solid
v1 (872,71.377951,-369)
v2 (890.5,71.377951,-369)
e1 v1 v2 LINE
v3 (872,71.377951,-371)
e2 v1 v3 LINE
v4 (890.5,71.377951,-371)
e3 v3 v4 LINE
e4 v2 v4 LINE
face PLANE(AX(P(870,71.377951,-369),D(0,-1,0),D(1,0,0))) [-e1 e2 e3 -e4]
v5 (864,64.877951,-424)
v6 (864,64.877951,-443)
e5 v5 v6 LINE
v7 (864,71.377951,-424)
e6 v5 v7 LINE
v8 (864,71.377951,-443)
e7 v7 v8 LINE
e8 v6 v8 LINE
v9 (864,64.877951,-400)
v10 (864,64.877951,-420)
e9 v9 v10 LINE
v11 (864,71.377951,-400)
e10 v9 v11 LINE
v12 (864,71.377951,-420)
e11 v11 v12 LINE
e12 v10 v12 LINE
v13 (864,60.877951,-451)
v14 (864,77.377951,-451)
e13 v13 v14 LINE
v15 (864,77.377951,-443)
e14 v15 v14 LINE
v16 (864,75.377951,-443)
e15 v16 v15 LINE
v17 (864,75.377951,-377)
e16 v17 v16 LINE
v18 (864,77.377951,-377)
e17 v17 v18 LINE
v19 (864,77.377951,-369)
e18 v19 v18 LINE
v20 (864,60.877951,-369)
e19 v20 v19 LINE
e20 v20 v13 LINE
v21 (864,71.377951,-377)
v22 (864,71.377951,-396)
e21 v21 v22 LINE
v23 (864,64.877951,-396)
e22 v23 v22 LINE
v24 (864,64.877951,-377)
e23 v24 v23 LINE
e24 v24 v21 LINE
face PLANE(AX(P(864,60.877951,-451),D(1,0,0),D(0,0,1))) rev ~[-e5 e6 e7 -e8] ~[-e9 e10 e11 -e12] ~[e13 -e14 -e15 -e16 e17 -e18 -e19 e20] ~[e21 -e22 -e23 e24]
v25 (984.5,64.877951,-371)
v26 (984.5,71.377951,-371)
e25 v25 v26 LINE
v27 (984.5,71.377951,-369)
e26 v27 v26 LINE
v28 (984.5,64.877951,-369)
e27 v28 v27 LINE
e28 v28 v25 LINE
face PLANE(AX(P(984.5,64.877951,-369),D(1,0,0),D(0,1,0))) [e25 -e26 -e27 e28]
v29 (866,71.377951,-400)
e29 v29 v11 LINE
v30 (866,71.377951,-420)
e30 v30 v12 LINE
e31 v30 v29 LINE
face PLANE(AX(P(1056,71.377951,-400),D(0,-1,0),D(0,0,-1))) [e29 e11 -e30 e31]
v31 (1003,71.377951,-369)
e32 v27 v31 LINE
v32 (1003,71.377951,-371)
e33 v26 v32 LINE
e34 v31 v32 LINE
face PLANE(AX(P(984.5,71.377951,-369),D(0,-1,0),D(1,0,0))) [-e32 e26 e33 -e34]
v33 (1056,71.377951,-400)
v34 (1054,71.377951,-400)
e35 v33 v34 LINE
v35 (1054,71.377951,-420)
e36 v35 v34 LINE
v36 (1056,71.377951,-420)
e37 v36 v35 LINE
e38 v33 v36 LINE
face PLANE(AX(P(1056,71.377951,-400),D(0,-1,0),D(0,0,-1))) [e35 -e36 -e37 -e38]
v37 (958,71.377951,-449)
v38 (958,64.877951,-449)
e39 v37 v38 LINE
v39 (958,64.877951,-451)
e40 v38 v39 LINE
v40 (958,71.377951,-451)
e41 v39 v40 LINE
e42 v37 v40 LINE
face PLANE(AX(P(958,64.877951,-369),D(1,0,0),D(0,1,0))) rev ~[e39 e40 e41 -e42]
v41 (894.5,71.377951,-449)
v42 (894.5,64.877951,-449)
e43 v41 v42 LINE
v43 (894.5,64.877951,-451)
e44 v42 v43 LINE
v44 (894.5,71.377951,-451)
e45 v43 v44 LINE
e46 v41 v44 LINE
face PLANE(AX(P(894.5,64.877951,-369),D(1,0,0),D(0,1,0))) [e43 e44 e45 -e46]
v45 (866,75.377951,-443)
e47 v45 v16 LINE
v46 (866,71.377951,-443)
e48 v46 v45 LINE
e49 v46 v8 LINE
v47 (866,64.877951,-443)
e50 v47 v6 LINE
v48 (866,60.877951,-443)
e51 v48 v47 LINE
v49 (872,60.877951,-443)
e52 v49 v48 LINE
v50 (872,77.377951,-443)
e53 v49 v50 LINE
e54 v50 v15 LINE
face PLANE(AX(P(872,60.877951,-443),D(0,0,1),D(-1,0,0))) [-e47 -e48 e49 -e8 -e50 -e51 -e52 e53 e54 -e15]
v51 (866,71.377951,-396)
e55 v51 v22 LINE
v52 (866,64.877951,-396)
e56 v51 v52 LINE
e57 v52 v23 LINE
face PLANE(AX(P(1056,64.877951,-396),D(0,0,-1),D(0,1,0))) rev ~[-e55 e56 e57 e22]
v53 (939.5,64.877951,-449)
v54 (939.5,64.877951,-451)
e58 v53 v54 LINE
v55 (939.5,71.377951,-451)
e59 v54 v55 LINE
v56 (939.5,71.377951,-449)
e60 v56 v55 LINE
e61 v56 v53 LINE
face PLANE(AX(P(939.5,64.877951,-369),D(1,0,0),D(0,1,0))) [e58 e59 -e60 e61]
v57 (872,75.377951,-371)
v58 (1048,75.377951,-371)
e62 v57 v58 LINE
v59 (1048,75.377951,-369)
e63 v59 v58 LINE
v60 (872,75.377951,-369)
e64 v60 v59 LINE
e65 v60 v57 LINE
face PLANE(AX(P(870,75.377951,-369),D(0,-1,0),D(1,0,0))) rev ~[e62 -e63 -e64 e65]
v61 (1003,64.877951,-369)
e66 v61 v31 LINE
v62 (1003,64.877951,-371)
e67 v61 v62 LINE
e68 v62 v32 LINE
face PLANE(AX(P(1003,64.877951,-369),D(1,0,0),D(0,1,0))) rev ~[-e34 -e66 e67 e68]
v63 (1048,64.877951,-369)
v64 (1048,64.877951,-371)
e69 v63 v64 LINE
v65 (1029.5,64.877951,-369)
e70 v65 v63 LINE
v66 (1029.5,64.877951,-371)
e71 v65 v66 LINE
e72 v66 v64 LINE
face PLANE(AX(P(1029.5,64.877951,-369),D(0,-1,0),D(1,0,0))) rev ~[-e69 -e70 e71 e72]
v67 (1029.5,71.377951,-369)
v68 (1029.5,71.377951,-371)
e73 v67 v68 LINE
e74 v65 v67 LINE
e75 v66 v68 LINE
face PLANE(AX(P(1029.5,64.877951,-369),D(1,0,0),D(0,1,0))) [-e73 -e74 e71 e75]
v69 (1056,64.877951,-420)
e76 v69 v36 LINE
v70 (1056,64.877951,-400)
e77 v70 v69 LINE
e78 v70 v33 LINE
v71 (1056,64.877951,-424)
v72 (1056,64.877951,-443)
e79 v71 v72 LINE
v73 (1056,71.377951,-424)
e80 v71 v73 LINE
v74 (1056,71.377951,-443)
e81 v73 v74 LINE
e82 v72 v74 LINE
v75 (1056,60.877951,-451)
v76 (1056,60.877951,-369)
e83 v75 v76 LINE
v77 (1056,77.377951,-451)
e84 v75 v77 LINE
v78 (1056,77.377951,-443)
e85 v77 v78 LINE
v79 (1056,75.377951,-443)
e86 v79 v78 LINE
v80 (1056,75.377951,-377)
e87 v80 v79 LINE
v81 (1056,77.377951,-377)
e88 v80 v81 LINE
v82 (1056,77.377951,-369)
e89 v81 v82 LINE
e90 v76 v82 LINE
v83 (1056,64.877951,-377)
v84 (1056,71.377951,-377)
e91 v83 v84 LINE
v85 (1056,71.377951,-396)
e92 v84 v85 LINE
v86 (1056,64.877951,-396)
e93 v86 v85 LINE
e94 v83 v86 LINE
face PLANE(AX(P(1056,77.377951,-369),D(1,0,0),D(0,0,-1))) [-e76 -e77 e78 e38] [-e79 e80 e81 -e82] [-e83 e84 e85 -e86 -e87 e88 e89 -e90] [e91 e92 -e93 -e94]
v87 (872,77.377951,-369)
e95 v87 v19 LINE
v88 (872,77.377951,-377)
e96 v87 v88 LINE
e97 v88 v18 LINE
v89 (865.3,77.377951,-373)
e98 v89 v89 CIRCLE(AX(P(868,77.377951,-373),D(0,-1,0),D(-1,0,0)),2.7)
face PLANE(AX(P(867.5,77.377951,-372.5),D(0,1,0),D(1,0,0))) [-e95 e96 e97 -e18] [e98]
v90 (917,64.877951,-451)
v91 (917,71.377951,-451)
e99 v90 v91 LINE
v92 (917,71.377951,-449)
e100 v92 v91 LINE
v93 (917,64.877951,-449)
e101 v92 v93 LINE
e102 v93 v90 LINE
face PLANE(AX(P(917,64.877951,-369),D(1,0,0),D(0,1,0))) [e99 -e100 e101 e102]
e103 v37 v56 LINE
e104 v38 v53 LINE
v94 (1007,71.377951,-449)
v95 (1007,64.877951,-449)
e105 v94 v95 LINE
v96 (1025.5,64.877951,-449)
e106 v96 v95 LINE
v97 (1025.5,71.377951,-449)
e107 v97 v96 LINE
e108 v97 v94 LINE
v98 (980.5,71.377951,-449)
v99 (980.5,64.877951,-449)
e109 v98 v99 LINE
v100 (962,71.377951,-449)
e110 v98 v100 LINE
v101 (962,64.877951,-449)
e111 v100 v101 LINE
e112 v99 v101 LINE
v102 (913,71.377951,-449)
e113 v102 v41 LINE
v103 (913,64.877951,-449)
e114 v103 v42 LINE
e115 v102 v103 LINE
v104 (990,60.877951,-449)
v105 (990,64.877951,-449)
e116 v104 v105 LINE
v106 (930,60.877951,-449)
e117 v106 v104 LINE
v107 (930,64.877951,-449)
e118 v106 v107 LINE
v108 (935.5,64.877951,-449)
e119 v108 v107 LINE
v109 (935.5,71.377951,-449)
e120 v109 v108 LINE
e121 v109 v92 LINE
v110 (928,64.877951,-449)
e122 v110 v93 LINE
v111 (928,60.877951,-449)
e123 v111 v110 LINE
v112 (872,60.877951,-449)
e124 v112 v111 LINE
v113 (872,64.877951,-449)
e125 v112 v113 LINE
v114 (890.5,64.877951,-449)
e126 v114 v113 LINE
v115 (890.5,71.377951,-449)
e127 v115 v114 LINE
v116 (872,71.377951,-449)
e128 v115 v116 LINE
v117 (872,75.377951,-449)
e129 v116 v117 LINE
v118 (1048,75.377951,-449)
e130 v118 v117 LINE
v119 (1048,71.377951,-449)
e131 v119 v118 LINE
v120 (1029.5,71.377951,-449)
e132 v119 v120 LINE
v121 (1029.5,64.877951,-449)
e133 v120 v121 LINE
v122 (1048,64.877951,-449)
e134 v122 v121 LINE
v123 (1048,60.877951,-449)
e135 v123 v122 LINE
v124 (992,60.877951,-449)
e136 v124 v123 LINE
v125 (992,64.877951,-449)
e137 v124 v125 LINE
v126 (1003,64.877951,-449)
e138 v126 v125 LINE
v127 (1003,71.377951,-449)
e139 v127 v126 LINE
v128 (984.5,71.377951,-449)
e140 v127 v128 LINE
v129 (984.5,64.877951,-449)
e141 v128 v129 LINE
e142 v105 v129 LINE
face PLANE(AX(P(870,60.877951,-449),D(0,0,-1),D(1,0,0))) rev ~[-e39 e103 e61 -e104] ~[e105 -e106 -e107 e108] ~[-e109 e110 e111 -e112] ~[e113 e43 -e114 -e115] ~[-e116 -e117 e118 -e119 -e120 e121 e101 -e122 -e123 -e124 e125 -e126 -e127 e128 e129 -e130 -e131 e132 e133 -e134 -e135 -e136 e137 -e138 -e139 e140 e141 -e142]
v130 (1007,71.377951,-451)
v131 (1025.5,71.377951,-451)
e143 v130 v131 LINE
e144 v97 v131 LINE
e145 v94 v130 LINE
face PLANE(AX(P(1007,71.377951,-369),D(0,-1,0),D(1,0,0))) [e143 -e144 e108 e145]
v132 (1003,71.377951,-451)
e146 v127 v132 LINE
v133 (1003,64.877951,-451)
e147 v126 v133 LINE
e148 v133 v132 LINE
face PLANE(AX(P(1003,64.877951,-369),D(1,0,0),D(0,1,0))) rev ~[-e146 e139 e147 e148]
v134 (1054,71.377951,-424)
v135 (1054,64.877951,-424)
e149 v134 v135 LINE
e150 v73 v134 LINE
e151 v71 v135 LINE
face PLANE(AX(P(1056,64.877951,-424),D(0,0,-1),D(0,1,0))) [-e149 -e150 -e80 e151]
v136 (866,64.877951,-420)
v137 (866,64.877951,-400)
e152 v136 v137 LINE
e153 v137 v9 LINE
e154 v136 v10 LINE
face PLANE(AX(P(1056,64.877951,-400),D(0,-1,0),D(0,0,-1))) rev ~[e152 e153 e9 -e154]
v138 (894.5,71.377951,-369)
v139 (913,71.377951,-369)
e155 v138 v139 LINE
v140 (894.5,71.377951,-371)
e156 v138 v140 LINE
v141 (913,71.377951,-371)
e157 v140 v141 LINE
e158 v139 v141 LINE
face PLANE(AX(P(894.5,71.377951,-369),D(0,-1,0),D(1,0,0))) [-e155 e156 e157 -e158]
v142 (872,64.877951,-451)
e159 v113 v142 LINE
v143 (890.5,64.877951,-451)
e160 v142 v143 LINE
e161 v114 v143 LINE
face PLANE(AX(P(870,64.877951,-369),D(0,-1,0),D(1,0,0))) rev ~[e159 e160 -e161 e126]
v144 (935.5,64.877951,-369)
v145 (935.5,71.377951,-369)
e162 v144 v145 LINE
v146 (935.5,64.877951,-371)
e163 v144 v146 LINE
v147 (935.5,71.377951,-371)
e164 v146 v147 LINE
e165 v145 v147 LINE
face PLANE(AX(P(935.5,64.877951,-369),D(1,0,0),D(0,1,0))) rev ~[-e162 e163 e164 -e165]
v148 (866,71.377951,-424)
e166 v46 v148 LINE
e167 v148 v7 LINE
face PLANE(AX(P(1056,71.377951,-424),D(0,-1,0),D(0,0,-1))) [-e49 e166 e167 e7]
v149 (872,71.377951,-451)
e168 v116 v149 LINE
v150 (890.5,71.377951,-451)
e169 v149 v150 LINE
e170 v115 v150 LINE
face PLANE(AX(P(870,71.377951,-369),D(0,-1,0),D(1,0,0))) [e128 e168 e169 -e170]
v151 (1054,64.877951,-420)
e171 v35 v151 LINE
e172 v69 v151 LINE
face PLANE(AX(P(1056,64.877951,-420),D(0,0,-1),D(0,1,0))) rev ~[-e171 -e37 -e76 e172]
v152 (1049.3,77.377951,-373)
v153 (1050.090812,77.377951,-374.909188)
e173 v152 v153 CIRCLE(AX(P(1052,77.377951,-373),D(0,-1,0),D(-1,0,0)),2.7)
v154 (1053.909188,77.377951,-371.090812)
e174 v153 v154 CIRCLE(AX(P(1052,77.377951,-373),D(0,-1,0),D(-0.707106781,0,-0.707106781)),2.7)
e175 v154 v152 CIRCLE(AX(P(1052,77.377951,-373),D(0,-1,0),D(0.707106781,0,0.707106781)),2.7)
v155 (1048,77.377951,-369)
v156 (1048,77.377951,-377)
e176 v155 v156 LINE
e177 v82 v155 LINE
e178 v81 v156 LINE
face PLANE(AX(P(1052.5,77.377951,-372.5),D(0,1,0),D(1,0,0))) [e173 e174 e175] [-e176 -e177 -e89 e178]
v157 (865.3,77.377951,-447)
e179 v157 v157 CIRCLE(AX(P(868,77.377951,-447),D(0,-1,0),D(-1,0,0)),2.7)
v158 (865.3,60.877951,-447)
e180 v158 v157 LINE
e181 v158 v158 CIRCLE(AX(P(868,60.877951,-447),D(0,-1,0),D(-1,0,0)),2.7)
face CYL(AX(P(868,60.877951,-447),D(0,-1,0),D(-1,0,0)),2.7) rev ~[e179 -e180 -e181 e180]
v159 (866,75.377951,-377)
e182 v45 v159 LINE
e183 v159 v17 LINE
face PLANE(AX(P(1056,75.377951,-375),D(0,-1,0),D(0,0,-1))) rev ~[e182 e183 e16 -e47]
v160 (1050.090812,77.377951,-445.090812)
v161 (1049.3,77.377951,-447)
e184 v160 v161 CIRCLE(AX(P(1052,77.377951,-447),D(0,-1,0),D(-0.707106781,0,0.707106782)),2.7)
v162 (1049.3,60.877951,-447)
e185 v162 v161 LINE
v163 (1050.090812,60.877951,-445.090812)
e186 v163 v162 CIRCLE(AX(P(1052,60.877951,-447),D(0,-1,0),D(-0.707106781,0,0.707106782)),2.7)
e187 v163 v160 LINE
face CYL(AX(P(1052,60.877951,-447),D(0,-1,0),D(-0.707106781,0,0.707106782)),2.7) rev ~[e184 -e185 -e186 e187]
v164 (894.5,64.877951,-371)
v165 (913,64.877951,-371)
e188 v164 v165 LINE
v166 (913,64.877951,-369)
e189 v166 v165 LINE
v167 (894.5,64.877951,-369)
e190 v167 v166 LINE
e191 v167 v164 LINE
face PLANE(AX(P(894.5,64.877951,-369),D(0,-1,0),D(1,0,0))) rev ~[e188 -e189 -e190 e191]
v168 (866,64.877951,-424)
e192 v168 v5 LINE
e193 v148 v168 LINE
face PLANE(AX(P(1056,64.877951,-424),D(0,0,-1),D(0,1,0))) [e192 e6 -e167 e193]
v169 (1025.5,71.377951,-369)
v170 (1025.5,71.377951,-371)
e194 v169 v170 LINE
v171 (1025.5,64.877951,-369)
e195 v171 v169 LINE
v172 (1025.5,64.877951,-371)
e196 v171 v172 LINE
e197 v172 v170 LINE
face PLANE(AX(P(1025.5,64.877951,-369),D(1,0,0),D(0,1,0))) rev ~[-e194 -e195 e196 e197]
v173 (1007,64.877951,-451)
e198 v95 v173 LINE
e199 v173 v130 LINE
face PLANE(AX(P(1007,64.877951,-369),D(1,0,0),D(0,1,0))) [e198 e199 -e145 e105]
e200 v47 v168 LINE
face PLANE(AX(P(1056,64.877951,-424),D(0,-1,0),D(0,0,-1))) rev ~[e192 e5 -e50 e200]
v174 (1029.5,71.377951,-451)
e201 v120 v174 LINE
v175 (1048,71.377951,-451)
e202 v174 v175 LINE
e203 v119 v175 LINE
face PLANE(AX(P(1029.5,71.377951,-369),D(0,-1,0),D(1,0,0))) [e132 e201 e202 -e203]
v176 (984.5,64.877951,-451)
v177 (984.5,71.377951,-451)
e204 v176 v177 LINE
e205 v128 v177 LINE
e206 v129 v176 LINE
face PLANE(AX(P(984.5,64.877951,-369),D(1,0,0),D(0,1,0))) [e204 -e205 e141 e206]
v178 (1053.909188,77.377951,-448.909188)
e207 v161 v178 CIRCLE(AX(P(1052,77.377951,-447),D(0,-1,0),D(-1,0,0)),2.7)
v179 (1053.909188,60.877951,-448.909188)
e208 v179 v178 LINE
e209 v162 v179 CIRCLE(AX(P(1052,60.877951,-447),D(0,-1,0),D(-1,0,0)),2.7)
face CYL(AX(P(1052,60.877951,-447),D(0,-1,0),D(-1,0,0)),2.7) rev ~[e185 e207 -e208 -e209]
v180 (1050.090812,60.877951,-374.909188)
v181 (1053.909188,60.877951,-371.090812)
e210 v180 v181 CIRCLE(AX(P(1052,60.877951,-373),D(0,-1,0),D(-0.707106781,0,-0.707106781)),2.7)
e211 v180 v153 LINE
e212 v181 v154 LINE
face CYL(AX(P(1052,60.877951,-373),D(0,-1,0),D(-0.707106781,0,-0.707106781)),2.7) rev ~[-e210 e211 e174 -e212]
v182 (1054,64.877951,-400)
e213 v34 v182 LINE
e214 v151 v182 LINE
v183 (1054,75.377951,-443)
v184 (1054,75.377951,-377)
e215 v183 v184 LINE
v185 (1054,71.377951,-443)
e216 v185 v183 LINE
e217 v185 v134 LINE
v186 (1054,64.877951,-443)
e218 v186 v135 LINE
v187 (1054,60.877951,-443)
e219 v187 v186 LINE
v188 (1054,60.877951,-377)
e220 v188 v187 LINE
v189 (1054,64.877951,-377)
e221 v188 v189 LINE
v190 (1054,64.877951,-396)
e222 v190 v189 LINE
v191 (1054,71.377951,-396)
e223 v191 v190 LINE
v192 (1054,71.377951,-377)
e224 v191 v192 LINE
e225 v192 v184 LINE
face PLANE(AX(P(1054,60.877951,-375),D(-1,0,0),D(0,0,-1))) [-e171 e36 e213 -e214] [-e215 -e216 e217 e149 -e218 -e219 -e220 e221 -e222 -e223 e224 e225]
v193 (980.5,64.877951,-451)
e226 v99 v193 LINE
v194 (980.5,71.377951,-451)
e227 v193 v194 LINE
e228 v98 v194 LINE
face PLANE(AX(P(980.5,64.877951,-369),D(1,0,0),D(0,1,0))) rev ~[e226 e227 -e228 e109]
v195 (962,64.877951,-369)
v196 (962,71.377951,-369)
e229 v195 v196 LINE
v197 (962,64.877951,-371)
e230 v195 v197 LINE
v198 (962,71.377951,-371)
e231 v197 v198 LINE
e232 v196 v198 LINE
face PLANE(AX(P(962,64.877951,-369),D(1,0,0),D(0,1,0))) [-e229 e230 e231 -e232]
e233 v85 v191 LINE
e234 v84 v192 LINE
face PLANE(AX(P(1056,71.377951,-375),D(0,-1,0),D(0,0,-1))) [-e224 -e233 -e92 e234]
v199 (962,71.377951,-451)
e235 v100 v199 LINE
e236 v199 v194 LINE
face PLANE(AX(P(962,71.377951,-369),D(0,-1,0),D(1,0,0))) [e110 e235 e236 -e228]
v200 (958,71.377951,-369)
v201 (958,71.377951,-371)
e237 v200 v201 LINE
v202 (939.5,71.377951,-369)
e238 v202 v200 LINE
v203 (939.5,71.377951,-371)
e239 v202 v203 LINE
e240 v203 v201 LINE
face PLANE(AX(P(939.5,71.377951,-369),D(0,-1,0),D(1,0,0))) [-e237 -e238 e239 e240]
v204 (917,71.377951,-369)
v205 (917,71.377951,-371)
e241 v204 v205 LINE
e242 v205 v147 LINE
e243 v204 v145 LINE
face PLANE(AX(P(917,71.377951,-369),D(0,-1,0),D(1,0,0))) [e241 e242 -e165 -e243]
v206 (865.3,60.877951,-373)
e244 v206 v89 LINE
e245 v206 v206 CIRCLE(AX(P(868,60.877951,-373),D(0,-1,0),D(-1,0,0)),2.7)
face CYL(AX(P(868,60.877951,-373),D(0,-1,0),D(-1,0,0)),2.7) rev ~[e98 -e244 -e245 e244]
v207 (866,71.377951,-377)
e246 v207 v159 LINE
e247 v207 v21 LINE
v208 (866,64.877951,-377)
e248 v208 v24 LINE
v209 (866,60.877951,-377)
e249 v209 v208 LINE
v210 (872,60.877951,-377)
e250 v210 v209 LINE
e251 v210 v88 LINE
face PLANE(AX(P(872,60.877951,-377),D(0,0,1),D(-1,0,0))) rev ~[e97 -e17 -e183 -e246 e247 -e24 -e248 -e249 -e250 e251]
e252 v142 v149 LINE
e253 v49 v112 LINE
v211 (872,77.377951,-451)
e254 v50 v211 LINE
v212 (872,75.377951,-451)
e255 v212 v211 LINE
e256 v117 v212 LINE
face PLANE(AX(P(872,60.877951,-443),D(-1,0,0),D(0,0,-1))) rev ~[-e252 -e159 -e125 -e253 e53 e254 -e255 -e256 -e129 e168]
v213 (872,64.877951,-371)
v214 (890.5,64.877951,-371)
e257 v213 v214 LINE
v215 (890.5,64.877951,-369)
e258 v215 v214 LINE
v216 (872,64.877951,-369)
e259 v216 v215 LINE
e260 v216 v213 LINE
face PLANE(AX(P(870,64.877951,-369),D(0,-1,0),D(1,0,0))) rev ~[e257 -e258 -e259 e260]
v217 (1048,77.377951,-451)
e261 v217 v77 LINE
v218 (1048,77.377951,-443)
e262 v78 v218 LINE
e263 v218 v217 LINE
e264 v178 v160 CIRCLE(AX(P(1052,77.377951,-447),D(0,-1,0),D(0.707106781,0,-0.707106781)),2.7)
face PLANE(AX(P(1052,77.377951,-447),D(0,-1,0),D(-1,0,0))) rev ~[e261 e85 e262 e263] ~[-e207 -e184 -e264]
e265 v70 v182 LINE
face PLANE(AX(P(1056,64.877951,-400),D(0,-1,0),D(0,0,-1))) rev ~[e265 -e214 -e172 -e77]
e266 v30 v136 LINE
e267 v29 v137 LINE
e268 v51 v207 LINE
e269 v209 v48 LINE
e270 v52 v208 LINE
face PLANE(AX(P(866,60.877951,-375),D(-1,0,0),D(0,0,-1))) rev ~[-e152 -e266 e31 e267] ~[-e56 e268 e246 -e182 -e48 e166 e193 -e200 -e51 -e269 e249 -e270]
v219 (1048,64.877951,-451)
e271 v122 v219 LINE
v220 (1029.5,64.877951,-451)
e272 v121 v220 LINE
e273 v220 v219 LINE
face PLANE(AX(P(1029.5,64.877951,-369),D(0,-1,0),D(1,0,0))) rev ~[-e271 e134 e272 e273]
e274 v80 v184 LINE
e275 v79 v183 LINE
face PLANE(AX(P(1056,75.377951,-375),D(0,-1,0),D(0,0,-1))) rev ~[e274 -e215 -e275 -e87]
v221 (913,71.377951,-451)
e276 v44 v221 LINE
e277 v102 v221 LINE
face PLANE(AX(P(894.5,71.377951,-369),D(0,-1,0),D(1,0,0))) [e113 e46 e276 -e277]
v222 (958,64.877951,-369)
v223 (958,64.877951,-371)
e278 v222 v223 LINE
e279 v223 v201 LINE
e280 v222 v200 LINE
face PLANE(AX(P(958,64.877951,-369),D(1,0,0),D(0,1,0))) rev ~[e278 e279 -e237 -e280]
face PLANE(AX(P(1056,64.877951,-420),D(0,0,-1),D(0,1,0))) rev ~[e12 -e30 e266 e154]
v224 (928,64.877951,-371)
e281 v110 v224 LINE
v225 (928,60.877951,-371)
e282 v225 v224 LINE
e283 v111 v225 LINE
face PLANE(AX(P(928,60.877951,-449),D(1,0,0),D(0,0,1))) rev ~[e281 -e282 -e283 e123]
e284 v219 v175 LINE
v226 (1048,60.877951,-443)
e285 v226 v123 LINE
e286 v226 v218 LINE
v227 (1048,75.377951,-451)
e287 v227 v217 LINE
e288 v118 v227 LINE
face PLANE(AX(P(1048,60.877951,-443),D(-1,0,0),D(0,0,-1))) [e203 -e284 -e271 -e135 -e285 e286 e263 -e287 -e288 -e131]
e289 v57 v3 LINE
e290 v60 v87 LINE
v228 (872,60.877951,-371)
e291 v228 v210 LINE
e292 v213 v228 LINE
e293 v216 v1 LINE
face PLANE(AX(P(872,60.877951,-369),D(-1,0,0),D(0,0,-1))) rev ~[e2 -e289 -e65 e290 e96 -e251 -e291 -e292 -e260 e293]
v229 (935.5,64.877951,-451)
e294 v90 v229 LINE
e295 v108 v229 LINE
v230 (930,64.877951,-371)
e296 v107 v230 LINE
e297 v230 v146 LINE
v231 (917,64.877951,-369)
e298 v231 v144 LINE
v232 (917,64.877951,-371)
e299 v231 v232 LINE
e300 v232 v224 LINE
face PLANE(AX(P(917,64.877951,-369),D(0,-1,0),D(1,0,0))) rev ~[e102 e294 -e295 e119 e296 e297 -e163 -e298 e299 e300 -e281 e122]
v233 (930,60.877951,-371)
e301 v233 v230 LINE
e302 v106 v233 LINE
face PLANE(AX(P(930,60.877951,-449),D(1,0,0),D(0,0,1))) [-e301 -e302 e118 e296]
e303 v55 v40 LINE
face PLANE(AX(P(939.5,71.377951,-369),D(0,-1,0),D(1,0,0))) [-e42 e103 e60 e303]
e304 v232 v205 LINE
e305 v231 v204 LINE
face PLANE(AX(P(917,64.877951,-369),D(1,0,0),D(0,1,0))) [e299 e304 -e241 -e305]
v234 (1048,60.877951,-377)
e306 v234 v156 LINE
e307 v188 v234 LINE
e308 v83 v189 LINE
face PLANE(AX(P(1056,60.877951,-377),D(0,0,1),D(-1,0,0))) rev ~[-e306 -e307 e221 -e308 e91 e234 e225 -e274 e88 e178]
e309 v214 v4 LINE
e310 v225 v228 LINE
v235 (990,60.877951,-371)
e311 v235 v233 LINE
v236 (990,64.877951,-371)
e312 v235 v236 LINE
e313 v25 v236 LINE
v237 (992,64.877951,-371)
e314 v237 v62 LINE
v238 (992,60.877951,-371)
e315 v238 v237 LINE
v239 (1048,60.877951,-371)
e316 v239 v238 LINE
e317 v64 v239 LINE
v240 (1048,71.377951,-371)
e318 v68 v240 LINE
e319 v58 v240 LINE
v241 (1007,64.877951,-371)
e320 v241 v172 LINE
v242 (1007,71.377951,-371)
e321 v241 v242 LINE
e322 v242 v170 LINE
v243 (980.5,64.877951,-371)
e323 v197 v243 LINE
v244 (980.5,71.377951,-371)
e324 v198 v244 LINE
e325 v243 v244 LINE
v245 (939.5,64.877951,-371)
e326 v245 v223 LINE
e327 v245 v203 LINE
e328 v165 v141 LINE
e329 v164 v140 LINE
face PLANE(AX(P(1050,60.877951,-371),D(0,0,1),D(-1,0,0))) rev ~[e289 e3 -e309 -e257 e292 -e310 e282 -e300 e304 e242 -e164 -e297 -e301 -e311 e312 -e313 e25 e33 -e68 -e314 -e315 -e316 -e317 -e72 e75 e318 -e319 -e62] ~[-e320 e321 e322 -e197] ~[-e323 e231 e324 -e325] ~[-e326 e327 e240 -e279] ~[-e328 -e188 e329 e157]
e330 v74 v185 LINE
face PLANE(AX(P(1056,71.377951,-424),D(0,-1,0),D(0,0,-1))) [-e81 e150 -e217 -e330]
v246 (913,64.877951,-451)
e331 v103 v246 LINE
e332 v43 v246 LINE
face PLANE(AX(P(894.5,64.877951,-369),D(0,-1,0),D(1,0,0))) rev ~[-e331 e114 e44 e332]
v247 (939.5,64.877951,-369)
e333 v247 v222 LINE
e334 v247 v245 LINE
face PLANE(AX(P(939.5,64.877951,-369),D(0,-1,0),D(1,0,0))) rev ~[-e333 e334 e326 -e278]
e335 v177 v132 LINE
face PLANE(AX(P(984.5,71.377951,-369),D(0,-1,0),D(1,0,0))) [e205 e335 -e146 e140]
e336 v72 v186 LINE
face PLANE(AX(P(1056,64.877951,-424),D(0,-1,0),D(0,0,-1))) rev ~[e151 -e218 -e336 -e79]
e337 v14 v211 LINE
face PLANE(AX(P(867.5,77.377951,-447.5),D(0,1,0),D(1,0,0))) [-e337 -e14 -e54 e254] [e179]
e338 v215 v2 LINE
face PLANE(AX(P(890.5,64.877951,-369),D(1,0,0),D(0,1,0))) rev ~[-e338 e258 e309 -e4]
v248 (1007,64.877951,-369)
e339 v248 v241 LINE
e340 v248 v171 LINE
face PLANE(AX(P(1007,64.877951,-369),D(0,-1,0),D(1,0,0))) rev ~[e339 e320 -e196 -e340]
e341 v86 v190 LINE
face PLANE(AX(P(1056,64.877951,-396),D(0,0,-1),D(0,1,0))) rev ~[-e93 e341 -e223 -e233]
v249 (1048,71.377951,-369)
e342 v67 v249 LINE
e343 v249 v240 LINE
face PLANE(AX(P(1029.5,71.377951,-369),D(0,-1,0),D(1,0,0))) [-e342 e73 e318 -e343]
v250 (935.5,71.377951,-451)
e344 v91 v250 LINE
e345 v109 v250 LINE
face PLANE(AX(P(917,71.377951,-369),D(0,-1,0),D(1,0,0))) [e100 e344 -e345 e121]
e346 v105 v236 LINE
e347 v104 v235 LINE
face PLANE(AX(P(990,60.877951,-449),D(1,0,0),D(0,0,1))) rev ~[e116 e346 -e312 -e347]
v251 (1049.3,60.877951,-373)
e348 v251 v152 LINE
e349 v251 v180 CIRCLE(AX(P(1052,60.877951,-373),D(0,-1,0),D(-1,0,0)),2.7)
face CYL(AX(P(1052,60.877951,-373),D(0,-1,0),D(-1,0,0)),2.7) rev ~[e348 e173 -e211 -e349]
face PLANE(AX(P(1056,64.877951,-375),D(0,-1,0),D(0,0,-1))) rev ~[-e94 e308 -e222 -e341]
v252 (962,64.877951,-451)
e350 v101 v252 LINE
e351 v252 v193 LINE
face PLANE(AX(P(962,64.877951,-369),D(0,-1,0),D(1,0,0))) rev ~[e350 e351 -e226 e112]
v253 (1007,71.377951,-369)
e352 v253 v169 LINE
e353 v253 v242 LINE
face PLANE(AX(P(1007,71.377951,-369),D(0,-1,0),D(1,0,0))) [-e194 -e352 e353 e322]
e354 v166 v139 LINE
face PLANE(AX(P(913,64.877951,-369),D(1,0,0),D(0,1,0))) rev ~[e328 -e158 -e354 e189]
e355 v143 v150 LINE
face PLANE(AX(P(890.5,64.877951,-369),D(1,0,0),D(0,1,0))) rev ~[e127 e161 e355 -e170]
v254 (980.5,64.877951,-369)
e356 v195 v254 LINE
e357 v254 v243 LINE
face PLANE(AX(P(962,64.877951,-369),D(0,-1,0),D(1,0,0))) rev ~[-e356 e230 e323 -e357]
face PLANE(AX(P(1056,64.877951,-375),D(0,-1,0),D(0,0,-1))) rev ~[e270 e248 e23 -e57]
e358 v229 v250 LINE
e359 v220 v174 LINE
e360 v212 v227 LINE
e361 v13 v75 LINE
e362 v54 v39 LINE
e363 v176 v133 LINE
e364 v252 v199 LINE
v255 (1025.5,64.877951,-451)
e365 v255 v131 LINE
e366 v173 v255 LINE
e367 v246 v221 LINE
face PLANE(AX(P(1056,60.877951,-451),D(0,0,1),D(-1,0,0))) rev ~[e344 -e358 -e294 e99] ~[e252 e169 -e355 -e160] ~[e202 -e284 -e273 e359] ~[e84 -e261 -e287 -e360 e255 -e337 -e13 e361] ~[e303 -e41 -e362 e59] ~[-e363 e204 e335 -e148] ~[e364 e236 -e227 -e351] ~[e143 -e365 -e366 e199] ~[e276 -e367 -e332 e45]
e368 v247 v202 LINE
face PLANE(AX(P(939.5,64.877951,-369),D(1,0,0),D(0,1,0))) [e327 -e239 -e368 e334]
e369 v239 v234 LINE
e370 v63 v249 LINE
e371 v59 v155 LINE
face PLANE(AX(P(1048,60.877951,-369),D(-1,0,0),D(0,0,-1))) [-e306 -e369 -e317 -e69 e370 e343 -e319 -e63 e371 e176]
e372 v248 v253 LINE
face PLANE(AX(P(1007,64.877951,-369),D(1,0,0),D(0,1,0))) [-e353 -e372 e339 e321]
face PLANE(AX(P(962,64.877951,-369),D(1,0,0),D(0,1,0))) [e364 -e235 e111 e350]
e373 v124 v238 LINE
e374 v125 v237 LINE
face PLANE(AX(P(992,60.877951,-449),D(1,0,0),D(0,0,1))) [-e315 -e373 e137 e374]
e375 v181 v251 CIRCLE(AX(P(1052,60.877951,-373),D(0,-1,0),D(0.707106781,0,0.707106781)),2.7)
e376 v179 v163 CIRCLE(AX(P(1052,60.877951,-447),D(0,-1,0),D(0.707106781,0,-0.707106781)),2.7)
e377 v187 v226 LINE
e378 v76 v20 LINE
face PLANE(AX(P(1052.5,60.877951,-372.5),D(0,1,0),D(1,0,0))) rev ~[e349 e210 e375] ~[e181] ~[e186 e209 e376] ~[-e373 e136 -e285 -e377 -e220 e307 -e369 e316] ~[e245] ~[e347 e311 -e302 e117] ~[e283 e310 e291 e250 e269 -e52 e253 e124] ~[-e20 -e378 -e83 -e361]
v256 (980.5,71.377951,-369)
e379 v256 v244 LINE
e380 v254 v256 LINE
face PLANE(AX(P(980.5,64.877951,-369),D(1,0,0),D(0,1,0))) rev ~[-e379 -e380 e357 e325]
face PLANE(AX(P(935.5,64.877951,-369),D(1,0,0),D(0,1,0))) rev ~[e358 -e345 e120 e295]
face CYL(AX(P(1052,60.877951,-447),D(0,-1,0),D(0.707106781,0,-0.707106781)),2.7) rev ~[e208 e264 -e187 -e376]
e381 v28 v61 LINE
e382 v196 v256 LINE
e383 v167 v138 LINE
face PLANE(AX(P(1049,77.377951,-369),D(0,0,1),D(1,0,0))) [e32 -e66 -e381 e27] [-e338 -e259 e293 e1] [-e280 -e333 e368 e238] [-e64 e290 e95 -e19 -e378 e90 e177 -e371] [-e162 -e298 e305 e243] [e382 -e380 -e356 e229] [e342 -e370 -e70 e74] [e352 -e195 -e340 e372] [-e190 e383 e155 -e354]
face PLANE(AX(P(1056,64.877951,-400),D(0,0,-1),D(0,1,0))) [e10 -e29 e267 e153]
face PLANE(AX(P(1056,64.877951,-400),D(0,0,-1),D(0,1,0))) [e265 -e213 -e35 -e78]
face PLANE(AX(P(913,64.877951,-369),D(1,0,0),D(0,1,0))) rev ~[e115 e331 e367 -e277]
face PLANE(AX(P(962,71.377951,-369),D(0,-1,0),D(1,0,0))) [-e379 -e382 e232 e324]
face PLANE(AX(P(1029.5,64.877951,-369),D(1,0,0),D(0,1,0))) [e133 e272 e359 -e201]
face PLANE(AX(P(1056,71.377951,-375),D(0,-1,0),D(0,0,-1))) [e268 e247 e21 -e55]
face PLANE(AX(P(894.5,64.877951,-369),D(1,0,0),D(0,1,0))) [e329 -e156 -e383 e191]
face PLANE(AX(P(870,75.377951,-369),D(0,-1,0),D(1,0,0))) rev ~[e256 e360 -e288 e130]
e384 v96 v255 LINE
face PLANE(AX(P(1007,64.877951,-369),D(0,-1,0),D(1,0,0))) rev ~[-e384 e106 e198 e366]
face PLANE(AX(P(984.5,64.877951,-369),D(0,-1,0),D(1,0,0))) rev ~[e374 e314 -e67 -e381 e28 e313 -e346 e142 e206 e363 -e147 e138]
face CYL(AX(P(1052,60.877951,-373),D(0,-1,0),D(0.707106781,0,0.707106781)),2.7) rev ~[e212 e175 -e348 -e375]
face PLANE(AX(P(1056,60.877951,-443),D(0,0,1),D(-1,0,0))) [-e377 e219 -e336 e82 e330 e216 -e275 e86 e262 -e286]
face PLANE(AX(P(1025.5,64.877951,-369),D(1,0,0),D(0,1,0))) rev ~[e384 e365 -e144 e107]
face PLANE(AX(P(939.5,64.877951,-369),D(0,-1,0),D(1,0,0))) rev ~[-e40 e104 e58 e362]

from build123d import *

# Parameters (mm, degrees)
SKETCH1_W               = 900
SKETCH1_H               = 20
SKETCH1_W_2             = 20
SKETCH1_H_2             = 350
SKETCH1_H_3             = 700
BOSS_EXTRUDE1_DEPTH     = 165
SKETCH2_W               = 205
SKETCH2_H               = 65
SKETCH2_W_2             = 185
SKETCH2_W_3             = 1800
SKETCH2_H_2             = 20
CUT_EXTRUDE1_DEPTH      = 1
CUT_EXTRUDE1_DEPTH_BACK = 821
SKETCH3_W               = 200
SKETCH3_H               = 65
SKETCH3_W_2             = 210
CUT_EXTRUDE2_DEPTH      = 1
CUT_EXTRUDE2_DEPTH_BACK = 1921
SKETCH5_W               = 20
SKETCH5_H               = 780
BOSS_EXTRUDE3_DEPTH     = 40
SCALE2_SCALE            = 0.1
SKETCH6_W               = 7
SKETCH6_H               = 7
BOSS_EXTRUDE4_DEPTH     = 16.5
SKETCH7_R               = 2.75
CUT_EXTRUDE3_DEPTH      = 1
CUT_EXTRUDE3_DEPTH_BACK = 17.5
SKETCH8_W               = 8
SKETCH8_H               = 8
BOSS_EXTRUDE5_DEPTH     = 16.5
SKETCH9_R               = 2.7
CUT_EXTRUDE4_DEPTH      = 16.5


with BuildPart() as part:
    # Sketch1 → Boss-Extrude1 (new body)
    with BuildSketch(Plane(origin=(0, 0, 0), x_dir=(1, 0, 0), z_dir=(0, 1, 0))):
        Polygon((5, 815), (0, 815), (0, 765), (5, 765), (5, 790), align=None)
        with BuildLine():
            Line((5, 790), (5, 765))
            Line((5, 765), (12.32233047, 772.32233047))
            ThreePointArc((12.32233047, 772.32233047), (6.903011687, 780.432914191), (5, 790))
        make_face()
        with BuildLine():
            Line((12.32233047, 772.32233047), (5, 765))
            Line((5, 765), (30, 765))
            ThreePointArc((30, 765), (20.432914191, 766.903011687), (12.32233047, 772.32233047))
        make_face()
        Polygon((5, 765), (0, 765), (0, 760), align=None)
        Polygon((5, 765), (0, 760), (20, 760), (60, 760), (60, 765), (55, 765), (30, 765), align=None)
        with BuildLine():
            Line((55, 765), (55, 790))
            ThreePointArc((55, 790), (47.67766953, 772.32233047), (30, 765))
            Line((30, 765), (55, 765))
        make_face()
        Polygon((60, 800), (60, 820), (55, 815), (55, 790), (55, 765), (60, 765), align=None)
        with BuildLine():
            Line((30, 815), (5, 815))
            Line((5, 815), (5, 790))
            ThreePointArc((5, 790), (12.32233047, 807.67766953), (30, 815))
        make_face()
        Polygon((55, 820), (0, 820), (0, 815), (5, 815), (30, 815), (55, 815), align=None)
        with BuildLine():
            Line((47.67766953, 807.67766953), (55, 815))
            Line((55, 815), (30, 815))
            ThreePointArc((30, 815), (39.567085809, 813.096988313), (47.67766953, 807.67766953))
        make_face()
        with BuildLine():
            Line((55, 790), (55, 815))
            Line((55, 815), (47.67766953, 807.67766953))
            ThreePointArc((47.67766953, 807.67766953), (53.096988313, 799.567085809), (55, 790))
        make_face()
        Polygon((60, 820), (55, 820), (55, 815), align=None)
        with Locations((510, 810)):
            Rectangle(SKETCH1_W, SKETCH1_H)
        with Locations((10, 585)):
            Rectangle(SKETCH1_W_2, SKETCH1_H_2)
        with Locations((10, 235)):
            Rectangle(SKETCH1_W_2, SKETCH1_H_2)
        Polygon((5, 55), (0, 60), (0, 55), align=None)
        Polygon((5, 55), (0, 55), (0, 5), (5, 5), (5, 30), align=None)
        Polygon((20, 60), (0, 60), (5, 55), (30, 55), (55, 55), (60, 55), (60, 60), align=None)
        with BuildLine():
            Line((30, 55), (5, 55))
            Line((5, 55), (12.32233047, 47.67766953))
            ThreePointArc((12.32233047, 47.67766953), (20.432914191, 53.096988313), (30, 55))
        make_face()
        with BuildLine():
            Line((12.32233047, 47.67766953), (5, 55))
            Line((5, 55), (5, 30))
            ThreePointArc((5, 30), (6.903011687, 39.567085809), (12.32233047, 47.67766953))
        make_face()
        with BuildLine():
            Line((55, 55), (30, 55))
            ThreePointArc((30, 55), (47.67766953, 47.67766953), (55, 30))
            Line((55, 30), (55, 55))
        make_face()
        Polygon((60, 0), (60, 20), (60, 55), (55, 55), (55, 30), (55, 5), align=None)
        with BuildLine():
            Line((55, 5), (47.67766953, 12.32233047))
            ThreePointArc((47.67766953, 12.32233047), (39.567085809, 6.903011687), (30, 5))
            Line((30, 5), (55, 5))
        make_face()
        with BuildLine():
            ThreePointArc((55, 30), (53.096988313, 20.432914191), (47.67766953, 12.32233047))
            Line((47.67766953, 12.32233047), (55, 5))
            Line((55, 5), (55, 30))
        make_face()
        Polygon((5, 5), (0, 5), (0, 0), (55, 0), (55, 5), (30, 5), align=None)
        Polygon((55, 0), (60, 0), (55, 5), align=None)
        with BuildLine():
            ThreePointArc((30, 5), (12.32233047, 12.32233047), (5, 30))
            Line((5, 30), (5, 5))
            Line((5, 5), (30, 5))
        make_face()
        with Locations((510, 10)):
            Rectangle(SKETCH1_W, SKETCH1_H)
        with Locations((1410, 10)):
            Rectangle(SKETCH1_W, SKETCH1_H)
        Polygon((1860, 55), (1860, 20), (1860, 0), (1865, 5), (1865, 30), (1865, 55), align=None)
        with BuildLine():
            Line((1865, 30), (1865, 5))
            Line((1865, 5), (1872.32233047, 12.32233047))
            ThreePointArc((1872.32233047, 12.32233047), (1866.903011687, 20.432914191), (1865, 30))
        make_face()
        with BuildLine():
            Line((1872.32233047, 12.32233047), (1865, 5))
            Line((1865, 5), (1890, 5))
            ThreePointArc((1890, 5), (1880.432914191, 6.903011687), (1872.32233047, 12.32233047))
        make_face()
        Polygon((1865, 5), (1860, 0), (1865, 0), align=None)
        Polygon((1865, 5), (1865, 0), (1920, 0), (1920, 5), (1915, 5), (1890, 5), align=None)
        with BuildLine():
            ThreePointArc((1915, 30), (1907.67766953, 12.32233047), (1890, 5))
            Line((1890, 5), (1915, 5))
            Line((1915, 5), (1915, 30))
        make_face()
        Polygon((1920, 5), (1920, 55), (1915, 55), (1915, 30), (1915, 5), align=None)
        Polygon((1860, 60), (1860, 55), (1865, 55), (1890, 55), (1915, 55), (1920, 60), (1900, 60), align=None)
        with BuildLine():
            Line((1890, 55), (1865, 55))
            Line((1865, 55), (1865, 30))
            ThreePointArc((1865, 30), (1872.32233047, 47.67766953), (1890, 55))
        make_face()
        with BuildLine():
            Line((1915, 55), (1890, 55))
            ThreePointArc((1890, 55), (1899.567085809, 53.096988313), (1907.67766953, 47.67766953))
            Line((1907.67766953, 47.67766953), (1915, 55))
        make_face()
        Polygon((1920, 55), (1920, 60), (1915, 55), align=None)
        with BuildLine():
            Line((1915, 30), (1915, 55))
            Line((1915, 55), (1907.67766953, 47.67766953))
            ThreePointArc((1907.67766953, 47.67766953), (1913.096988313, 39.567085809), (1915, 30))
        make_face()
        with Locations((1910, 410)):
            Rectangle(SKETCH1_W_2, SKETCH1_H_3)
        Polygon((1865, 765), (1860, 765), (1860, 760), (1900, 760), (1920, 760), (1915, 765), (1890, 765), align=None)
        Polygon((1920, 760), (1920, 765), (1915, 765), align=None)
        with BuildLine():
            ThreePointArc((1915, 790), (1913.096988313, 780.432914191), (1907.67766953, 772.32233047))
            Line((1907.67766953, 772.32233047), (1915, 765))
            Line((1915, 765), (1915, 790))
        make_face()
        with BuildLine():
            Line((1915, 765), (1907.67766953, 772.32233047))
            ThreePointArc((1907.67766953, 772.32233047), (1899.567085809, 766.903011687), (1890, 765))
            Line((1890, 765), (1915, 765))
        make_face()
        Polygon((1920, 765), (1920, 815), (1915, 815), (1915, 790), (1915, 765), align=None)
        Polygon((1920, 820), (1865, 820), (1865, 815), (1890, 815), (1915, 815), (1920, 815), align=None)
        with BuildLine():
            Line((1915, 815), (1890, 815))
            ThreePointArc((1890, 815), (1907.67766953, 807.67766953), (1915, 790))
            Line((1915, 790), (1915, 815))
        make_face()
        Polygon((1865, 820), (1860, 820), (1865, 815), align=None)
        Polygon((1865, 815), (1860, 820), (1860, 800), (1860, 765), (1865, 765), (1865, 790), align=None)
        with BuildLine():
            Line((1872.32233047, 807.67766953), (1865, 815))
            Line((1865, 815), (1865, 790))
            ThreePointArc((1865, 790), (1866.903011687, 799.567085809), (1872.32233047, 807.67766953))
        make_face()
        with BuildLine():
            Line((1890, 815), (1865, 815))
            Line((1865, 815), (1872.32233047, 807.67766953))
            ThreePointArc((1872.32233047, 807.67766953), (1880.432914191, 813.096988313), (1890, 815))
        make_face()
        with BuildLine():
            ThreePointArc((1890, 765), (1872.32233047, 772.32233047), (1865, 790))
            Line((1865, 790), (1865, 765))
            Line((1865, 765), (1890, 765))
        make_face()
        with Locations((1410, 810)):
            Rectangle(SKETCH1_W, SKETCH1_H)
    extrude(amount=BOSS_EXTRUDE1_DEPTH)

    # Sketch2 → Cut-Extrude1 (cut, two sides)
    with BuildSketch(Plane.XY) as cut_extrude1_sk:
        with Locations((162.5, 72.5)):
            Rectangle(SKETCH2_W, SKETCH2_H)
        with Locations((397.5, 72.5)):
            Rectangle(SKETCH2_W_2, SKETCH2_H)
        with Locations((622.5, 72.5)):
            Rectangle(SKETCH2_W_2, SKETCH2_H)
        with Locations((847.5, 72.5)):
            Rectangle(SKETCH2_W_2, SKETCH2_H)
        with Locations((1072.5, 72.5)):
            Rectangle(SKETCH2_W_2, SKETCH2_H)
        with Locations((1297.5, 72.5)):
            Rectangle(SKETCH2_W_2, SKETCH2_H)
        with Locations((1522.5, 72.5)):
            Rectangle(SKETCH2_W_2, SKETCH2_H)
        with Locations((1757.5, 72.5)):
            Rectangle(SKETCH2_W, SKETCH2_H)
        with Locations((960, 155)):
            Rectangle(SKETCH2_W_3, SKETCH2_H_2)
    extrude(amount=CUT_EXTRUDE1_DEPTH, mode=Mode.SUBTRACT)
    extrude(cut_extrude1_sk.sketch, amount=-CUT_EXTRUDE1_DEPTH_BACK, mode=Mode.SUBTRACT)

    # Sketch3 → Cut-Extrude2 (cut, two sides)
    with BuildSketch(Plane(origin=(1920, 0, 0), x_dir=(0, 0, -1), z_dir=(1, 0, 0))) as cut_extrude2_sk:
        Polygon((410, 145), (410, 165), (60, 165), (60, 145), (270, 145), (310, 145), align=None)
        Polygon((760, 145), (760, 165), (410, 165), (410, 145), (510, 145), (550, 145), align=None)
        with Locations((410, 72.5)):
            Rectangle(SKETCH3_W, SKETCH3_H)
        with Locations((655, 72.5)):
            Rectangle(SKETCH3_W_2, SKETCH3_H)
        with Locations((165, 72.5)):
            Rectangle(SKETCH3_W_2, SKETCH3_H)
    extrude(amount=CUT_EXTRUDE2_DEPTH, mode=Mode.SUBTRACT)
    extrude(cut_extrude2_sk.sketch, amount=-CUT_EXTRUDE2_DEPTH_BACK, mode=Mode.SUBTRACT)

    # Sketch5 → Boss-Extrude3 (add)
    with BuildSketch(Plane.XZ):
        with Locations((650, -410)):
            Rectangle(SKETCH5_W, SKETCH5_H)
        with Locations((1270, -410)):
            Rectangle(SKETCH5_W, SKETCH5_H)
    extrude(amount=-BOSS_EXTRUDE3_DEPTH)


with BuildPart() as part_1:
    # Scale2: scaled about (960, 67.642168167, -410)
    add(part.part.scale(SCALE2_SCALE).moved(Location((864, 60.87795135, -369))))

    # Sketch6 → Boss-Extrude4 (add)
    with BuildSketch(Plane(origin=(0, 77.37795135, 0), x_dir=(1, 0, 0), z_dir=(0, 1, 0))):
        with Locations((1052.5, 372.5)):
            Rectangle(SKETCH6_W, SKETCH6_H)
        with Locations((867.5, 372.5)):
            Rectangle(SKETCH6_W, SKETCH6_H)
        with Locations((1052.5, 447.5)):
            Rectangle(SKETCH6_W, SKETCH6_H)
        with Locations((867.5, 447.5)):
            Rectangle(SKETCH6_W, SKETCH6_H)
    extrude(amount=-BOSS_EXTRUDE4_DEPTH)

    # Sketch7 → Cut-Extrude3 (cut, two sides)
    with BuildSketch(Plane(origin=(0, 77.37795135, 0), x_dir=(1, 0, 0), z_dir=(0, 1, 0))) as cut_extrude3_sk:
        with BuildLine():
            ThreePointArc((1052.5, 375.25), (1049.75, 372.5), (1052.5, 369.75))
            Line((1052.5, 369.75), (1052.5, 375.25))
        make_face()
        with BuildLine():
            Line((1052.5, 375.25), (1052.5, 369.75))
            ThreePointArc((1052.5, 369.75), (1054.444543648, 370.555456352), (1055.25, 372.5))
            ThreePointArc((1055.25, 372.5), (1054.444543648, 374.444543648), (1052.5, 375.25))
        make_face()
        with BuildLine():
            ThreePointArc((1055.25, 447.5), (1054.444543648, 449.444543648), (1052.5, 450.25))
            Line((1052.5, 450.25), (1052.5, 444.75))
            ThreePointArc((1052.5, 444.75), (1054.444543648, 445.555456352), (1055.25, 447.5))
        make_face()
        with BuildLine():
            Line((1052.5, 444.75), (1052.5, 450.25))
            ThreePointArc((1052.5, 450.25), (1049.75, 447.5), (1052.5, 444.75))
        make_face()
        with Locations((867.5, 447.5)):
            Circle(SKETCH7_R)
        with Locations((867.5, 372.5)):
            Circle(SKETCH7_R)
    extrude(amount=CUT_EXTRUDE3_DEPTH, mode=Mode.SUBTRACT)
    extrude(cut_extrude3_sk.sketch, amount=-CUT_EXTRUDE3_DEPTH_BACK, mode=Mode.SUBTRACT)

    # Sketch8 → Boss-Extrude5 (add)
    with BuildSketch(Plane(origin=(0, 60.87795135, 0), x_dir=(-1, 0, 0), z_dir=(0, -1, 0))):
        with Locations((-868, 373)):
            Rectangle(SKETCH8_W, SKETCH8_H)
        with Locations((-1052, 447)):
            Rectangle(SKETCH8_W, SKETCH8_H)
        with Locations((-1052, 373)):
            Rectangle(SKETCH8_W, SKETCH8_H)
        with Locations((-868, 447)):
            Rectangle(SKETCH8_W, SKETCH8_H)
    extrude(amount=-BOSS_EXTRUDE5_DEPTH)

    # Sketch9 → Cut-Extrude4 (cut)
    with BuildSketch(Plane(origin=(0, 60.87795135, 0), x_dir=(-1, 0, 0), z_dir=(0, -1, 0))):
        with BuildLine():
            ThreePointArc((-1053.909188309, 448.909188309), (-1053.909188309, 445.090811691), (-1050.090811691, 445.090811691))
            Line((-1050.090811691, 445.090811691), (-1053.909188309, 448.909188309))
        make_face()
        with BuildLine():
            Line((-1053.909188309, 448.909188309), (-1050.090811691, 445.090811691))
            ThreePointArc((-1050.090811691, 445.090811691), (-1049.505525262, 445.966754733), (-1049.3, 447))
            ThreePointArc((-1049.3, 447), (-1050.966754733, 449.494474738), (-1053.909188309, 448.909188309))
        make_face()
        with BuildLine():
            ThreePointArc((-1050.090811691, 374.909188309), (-1053.909188309, 374.909188309), (-1053.909188309, 371.090811691))
            Line((-1053.909188309, 371.090811691), (-1050.090811691, 374.909188309))
        make_face()
        with BuildLine():
            Line((-1050.090811691, 374.909188309), (-1053.909188309, 371.090811691))
            ThreePointArc((-1053.909188309, 371.090811691), (-1050.966754733, 370.505525262), (-1049.3, 373))
            ThreePointArc((-1049.3, 373), (-1049.505525262, 374.033245267), (-1050.090811691, 374.909188309))
        make_face()
        with Locations((-868, 447)):
            Circle(SKETCH9_R)
        with Locations((-868, 373)):
            Circle(SKETCH9_R)
    extrude(amount=-CUT_EXTRUDE4_DEPTH, mode=Mode.SUBTRACT)


solid = part_1.part
